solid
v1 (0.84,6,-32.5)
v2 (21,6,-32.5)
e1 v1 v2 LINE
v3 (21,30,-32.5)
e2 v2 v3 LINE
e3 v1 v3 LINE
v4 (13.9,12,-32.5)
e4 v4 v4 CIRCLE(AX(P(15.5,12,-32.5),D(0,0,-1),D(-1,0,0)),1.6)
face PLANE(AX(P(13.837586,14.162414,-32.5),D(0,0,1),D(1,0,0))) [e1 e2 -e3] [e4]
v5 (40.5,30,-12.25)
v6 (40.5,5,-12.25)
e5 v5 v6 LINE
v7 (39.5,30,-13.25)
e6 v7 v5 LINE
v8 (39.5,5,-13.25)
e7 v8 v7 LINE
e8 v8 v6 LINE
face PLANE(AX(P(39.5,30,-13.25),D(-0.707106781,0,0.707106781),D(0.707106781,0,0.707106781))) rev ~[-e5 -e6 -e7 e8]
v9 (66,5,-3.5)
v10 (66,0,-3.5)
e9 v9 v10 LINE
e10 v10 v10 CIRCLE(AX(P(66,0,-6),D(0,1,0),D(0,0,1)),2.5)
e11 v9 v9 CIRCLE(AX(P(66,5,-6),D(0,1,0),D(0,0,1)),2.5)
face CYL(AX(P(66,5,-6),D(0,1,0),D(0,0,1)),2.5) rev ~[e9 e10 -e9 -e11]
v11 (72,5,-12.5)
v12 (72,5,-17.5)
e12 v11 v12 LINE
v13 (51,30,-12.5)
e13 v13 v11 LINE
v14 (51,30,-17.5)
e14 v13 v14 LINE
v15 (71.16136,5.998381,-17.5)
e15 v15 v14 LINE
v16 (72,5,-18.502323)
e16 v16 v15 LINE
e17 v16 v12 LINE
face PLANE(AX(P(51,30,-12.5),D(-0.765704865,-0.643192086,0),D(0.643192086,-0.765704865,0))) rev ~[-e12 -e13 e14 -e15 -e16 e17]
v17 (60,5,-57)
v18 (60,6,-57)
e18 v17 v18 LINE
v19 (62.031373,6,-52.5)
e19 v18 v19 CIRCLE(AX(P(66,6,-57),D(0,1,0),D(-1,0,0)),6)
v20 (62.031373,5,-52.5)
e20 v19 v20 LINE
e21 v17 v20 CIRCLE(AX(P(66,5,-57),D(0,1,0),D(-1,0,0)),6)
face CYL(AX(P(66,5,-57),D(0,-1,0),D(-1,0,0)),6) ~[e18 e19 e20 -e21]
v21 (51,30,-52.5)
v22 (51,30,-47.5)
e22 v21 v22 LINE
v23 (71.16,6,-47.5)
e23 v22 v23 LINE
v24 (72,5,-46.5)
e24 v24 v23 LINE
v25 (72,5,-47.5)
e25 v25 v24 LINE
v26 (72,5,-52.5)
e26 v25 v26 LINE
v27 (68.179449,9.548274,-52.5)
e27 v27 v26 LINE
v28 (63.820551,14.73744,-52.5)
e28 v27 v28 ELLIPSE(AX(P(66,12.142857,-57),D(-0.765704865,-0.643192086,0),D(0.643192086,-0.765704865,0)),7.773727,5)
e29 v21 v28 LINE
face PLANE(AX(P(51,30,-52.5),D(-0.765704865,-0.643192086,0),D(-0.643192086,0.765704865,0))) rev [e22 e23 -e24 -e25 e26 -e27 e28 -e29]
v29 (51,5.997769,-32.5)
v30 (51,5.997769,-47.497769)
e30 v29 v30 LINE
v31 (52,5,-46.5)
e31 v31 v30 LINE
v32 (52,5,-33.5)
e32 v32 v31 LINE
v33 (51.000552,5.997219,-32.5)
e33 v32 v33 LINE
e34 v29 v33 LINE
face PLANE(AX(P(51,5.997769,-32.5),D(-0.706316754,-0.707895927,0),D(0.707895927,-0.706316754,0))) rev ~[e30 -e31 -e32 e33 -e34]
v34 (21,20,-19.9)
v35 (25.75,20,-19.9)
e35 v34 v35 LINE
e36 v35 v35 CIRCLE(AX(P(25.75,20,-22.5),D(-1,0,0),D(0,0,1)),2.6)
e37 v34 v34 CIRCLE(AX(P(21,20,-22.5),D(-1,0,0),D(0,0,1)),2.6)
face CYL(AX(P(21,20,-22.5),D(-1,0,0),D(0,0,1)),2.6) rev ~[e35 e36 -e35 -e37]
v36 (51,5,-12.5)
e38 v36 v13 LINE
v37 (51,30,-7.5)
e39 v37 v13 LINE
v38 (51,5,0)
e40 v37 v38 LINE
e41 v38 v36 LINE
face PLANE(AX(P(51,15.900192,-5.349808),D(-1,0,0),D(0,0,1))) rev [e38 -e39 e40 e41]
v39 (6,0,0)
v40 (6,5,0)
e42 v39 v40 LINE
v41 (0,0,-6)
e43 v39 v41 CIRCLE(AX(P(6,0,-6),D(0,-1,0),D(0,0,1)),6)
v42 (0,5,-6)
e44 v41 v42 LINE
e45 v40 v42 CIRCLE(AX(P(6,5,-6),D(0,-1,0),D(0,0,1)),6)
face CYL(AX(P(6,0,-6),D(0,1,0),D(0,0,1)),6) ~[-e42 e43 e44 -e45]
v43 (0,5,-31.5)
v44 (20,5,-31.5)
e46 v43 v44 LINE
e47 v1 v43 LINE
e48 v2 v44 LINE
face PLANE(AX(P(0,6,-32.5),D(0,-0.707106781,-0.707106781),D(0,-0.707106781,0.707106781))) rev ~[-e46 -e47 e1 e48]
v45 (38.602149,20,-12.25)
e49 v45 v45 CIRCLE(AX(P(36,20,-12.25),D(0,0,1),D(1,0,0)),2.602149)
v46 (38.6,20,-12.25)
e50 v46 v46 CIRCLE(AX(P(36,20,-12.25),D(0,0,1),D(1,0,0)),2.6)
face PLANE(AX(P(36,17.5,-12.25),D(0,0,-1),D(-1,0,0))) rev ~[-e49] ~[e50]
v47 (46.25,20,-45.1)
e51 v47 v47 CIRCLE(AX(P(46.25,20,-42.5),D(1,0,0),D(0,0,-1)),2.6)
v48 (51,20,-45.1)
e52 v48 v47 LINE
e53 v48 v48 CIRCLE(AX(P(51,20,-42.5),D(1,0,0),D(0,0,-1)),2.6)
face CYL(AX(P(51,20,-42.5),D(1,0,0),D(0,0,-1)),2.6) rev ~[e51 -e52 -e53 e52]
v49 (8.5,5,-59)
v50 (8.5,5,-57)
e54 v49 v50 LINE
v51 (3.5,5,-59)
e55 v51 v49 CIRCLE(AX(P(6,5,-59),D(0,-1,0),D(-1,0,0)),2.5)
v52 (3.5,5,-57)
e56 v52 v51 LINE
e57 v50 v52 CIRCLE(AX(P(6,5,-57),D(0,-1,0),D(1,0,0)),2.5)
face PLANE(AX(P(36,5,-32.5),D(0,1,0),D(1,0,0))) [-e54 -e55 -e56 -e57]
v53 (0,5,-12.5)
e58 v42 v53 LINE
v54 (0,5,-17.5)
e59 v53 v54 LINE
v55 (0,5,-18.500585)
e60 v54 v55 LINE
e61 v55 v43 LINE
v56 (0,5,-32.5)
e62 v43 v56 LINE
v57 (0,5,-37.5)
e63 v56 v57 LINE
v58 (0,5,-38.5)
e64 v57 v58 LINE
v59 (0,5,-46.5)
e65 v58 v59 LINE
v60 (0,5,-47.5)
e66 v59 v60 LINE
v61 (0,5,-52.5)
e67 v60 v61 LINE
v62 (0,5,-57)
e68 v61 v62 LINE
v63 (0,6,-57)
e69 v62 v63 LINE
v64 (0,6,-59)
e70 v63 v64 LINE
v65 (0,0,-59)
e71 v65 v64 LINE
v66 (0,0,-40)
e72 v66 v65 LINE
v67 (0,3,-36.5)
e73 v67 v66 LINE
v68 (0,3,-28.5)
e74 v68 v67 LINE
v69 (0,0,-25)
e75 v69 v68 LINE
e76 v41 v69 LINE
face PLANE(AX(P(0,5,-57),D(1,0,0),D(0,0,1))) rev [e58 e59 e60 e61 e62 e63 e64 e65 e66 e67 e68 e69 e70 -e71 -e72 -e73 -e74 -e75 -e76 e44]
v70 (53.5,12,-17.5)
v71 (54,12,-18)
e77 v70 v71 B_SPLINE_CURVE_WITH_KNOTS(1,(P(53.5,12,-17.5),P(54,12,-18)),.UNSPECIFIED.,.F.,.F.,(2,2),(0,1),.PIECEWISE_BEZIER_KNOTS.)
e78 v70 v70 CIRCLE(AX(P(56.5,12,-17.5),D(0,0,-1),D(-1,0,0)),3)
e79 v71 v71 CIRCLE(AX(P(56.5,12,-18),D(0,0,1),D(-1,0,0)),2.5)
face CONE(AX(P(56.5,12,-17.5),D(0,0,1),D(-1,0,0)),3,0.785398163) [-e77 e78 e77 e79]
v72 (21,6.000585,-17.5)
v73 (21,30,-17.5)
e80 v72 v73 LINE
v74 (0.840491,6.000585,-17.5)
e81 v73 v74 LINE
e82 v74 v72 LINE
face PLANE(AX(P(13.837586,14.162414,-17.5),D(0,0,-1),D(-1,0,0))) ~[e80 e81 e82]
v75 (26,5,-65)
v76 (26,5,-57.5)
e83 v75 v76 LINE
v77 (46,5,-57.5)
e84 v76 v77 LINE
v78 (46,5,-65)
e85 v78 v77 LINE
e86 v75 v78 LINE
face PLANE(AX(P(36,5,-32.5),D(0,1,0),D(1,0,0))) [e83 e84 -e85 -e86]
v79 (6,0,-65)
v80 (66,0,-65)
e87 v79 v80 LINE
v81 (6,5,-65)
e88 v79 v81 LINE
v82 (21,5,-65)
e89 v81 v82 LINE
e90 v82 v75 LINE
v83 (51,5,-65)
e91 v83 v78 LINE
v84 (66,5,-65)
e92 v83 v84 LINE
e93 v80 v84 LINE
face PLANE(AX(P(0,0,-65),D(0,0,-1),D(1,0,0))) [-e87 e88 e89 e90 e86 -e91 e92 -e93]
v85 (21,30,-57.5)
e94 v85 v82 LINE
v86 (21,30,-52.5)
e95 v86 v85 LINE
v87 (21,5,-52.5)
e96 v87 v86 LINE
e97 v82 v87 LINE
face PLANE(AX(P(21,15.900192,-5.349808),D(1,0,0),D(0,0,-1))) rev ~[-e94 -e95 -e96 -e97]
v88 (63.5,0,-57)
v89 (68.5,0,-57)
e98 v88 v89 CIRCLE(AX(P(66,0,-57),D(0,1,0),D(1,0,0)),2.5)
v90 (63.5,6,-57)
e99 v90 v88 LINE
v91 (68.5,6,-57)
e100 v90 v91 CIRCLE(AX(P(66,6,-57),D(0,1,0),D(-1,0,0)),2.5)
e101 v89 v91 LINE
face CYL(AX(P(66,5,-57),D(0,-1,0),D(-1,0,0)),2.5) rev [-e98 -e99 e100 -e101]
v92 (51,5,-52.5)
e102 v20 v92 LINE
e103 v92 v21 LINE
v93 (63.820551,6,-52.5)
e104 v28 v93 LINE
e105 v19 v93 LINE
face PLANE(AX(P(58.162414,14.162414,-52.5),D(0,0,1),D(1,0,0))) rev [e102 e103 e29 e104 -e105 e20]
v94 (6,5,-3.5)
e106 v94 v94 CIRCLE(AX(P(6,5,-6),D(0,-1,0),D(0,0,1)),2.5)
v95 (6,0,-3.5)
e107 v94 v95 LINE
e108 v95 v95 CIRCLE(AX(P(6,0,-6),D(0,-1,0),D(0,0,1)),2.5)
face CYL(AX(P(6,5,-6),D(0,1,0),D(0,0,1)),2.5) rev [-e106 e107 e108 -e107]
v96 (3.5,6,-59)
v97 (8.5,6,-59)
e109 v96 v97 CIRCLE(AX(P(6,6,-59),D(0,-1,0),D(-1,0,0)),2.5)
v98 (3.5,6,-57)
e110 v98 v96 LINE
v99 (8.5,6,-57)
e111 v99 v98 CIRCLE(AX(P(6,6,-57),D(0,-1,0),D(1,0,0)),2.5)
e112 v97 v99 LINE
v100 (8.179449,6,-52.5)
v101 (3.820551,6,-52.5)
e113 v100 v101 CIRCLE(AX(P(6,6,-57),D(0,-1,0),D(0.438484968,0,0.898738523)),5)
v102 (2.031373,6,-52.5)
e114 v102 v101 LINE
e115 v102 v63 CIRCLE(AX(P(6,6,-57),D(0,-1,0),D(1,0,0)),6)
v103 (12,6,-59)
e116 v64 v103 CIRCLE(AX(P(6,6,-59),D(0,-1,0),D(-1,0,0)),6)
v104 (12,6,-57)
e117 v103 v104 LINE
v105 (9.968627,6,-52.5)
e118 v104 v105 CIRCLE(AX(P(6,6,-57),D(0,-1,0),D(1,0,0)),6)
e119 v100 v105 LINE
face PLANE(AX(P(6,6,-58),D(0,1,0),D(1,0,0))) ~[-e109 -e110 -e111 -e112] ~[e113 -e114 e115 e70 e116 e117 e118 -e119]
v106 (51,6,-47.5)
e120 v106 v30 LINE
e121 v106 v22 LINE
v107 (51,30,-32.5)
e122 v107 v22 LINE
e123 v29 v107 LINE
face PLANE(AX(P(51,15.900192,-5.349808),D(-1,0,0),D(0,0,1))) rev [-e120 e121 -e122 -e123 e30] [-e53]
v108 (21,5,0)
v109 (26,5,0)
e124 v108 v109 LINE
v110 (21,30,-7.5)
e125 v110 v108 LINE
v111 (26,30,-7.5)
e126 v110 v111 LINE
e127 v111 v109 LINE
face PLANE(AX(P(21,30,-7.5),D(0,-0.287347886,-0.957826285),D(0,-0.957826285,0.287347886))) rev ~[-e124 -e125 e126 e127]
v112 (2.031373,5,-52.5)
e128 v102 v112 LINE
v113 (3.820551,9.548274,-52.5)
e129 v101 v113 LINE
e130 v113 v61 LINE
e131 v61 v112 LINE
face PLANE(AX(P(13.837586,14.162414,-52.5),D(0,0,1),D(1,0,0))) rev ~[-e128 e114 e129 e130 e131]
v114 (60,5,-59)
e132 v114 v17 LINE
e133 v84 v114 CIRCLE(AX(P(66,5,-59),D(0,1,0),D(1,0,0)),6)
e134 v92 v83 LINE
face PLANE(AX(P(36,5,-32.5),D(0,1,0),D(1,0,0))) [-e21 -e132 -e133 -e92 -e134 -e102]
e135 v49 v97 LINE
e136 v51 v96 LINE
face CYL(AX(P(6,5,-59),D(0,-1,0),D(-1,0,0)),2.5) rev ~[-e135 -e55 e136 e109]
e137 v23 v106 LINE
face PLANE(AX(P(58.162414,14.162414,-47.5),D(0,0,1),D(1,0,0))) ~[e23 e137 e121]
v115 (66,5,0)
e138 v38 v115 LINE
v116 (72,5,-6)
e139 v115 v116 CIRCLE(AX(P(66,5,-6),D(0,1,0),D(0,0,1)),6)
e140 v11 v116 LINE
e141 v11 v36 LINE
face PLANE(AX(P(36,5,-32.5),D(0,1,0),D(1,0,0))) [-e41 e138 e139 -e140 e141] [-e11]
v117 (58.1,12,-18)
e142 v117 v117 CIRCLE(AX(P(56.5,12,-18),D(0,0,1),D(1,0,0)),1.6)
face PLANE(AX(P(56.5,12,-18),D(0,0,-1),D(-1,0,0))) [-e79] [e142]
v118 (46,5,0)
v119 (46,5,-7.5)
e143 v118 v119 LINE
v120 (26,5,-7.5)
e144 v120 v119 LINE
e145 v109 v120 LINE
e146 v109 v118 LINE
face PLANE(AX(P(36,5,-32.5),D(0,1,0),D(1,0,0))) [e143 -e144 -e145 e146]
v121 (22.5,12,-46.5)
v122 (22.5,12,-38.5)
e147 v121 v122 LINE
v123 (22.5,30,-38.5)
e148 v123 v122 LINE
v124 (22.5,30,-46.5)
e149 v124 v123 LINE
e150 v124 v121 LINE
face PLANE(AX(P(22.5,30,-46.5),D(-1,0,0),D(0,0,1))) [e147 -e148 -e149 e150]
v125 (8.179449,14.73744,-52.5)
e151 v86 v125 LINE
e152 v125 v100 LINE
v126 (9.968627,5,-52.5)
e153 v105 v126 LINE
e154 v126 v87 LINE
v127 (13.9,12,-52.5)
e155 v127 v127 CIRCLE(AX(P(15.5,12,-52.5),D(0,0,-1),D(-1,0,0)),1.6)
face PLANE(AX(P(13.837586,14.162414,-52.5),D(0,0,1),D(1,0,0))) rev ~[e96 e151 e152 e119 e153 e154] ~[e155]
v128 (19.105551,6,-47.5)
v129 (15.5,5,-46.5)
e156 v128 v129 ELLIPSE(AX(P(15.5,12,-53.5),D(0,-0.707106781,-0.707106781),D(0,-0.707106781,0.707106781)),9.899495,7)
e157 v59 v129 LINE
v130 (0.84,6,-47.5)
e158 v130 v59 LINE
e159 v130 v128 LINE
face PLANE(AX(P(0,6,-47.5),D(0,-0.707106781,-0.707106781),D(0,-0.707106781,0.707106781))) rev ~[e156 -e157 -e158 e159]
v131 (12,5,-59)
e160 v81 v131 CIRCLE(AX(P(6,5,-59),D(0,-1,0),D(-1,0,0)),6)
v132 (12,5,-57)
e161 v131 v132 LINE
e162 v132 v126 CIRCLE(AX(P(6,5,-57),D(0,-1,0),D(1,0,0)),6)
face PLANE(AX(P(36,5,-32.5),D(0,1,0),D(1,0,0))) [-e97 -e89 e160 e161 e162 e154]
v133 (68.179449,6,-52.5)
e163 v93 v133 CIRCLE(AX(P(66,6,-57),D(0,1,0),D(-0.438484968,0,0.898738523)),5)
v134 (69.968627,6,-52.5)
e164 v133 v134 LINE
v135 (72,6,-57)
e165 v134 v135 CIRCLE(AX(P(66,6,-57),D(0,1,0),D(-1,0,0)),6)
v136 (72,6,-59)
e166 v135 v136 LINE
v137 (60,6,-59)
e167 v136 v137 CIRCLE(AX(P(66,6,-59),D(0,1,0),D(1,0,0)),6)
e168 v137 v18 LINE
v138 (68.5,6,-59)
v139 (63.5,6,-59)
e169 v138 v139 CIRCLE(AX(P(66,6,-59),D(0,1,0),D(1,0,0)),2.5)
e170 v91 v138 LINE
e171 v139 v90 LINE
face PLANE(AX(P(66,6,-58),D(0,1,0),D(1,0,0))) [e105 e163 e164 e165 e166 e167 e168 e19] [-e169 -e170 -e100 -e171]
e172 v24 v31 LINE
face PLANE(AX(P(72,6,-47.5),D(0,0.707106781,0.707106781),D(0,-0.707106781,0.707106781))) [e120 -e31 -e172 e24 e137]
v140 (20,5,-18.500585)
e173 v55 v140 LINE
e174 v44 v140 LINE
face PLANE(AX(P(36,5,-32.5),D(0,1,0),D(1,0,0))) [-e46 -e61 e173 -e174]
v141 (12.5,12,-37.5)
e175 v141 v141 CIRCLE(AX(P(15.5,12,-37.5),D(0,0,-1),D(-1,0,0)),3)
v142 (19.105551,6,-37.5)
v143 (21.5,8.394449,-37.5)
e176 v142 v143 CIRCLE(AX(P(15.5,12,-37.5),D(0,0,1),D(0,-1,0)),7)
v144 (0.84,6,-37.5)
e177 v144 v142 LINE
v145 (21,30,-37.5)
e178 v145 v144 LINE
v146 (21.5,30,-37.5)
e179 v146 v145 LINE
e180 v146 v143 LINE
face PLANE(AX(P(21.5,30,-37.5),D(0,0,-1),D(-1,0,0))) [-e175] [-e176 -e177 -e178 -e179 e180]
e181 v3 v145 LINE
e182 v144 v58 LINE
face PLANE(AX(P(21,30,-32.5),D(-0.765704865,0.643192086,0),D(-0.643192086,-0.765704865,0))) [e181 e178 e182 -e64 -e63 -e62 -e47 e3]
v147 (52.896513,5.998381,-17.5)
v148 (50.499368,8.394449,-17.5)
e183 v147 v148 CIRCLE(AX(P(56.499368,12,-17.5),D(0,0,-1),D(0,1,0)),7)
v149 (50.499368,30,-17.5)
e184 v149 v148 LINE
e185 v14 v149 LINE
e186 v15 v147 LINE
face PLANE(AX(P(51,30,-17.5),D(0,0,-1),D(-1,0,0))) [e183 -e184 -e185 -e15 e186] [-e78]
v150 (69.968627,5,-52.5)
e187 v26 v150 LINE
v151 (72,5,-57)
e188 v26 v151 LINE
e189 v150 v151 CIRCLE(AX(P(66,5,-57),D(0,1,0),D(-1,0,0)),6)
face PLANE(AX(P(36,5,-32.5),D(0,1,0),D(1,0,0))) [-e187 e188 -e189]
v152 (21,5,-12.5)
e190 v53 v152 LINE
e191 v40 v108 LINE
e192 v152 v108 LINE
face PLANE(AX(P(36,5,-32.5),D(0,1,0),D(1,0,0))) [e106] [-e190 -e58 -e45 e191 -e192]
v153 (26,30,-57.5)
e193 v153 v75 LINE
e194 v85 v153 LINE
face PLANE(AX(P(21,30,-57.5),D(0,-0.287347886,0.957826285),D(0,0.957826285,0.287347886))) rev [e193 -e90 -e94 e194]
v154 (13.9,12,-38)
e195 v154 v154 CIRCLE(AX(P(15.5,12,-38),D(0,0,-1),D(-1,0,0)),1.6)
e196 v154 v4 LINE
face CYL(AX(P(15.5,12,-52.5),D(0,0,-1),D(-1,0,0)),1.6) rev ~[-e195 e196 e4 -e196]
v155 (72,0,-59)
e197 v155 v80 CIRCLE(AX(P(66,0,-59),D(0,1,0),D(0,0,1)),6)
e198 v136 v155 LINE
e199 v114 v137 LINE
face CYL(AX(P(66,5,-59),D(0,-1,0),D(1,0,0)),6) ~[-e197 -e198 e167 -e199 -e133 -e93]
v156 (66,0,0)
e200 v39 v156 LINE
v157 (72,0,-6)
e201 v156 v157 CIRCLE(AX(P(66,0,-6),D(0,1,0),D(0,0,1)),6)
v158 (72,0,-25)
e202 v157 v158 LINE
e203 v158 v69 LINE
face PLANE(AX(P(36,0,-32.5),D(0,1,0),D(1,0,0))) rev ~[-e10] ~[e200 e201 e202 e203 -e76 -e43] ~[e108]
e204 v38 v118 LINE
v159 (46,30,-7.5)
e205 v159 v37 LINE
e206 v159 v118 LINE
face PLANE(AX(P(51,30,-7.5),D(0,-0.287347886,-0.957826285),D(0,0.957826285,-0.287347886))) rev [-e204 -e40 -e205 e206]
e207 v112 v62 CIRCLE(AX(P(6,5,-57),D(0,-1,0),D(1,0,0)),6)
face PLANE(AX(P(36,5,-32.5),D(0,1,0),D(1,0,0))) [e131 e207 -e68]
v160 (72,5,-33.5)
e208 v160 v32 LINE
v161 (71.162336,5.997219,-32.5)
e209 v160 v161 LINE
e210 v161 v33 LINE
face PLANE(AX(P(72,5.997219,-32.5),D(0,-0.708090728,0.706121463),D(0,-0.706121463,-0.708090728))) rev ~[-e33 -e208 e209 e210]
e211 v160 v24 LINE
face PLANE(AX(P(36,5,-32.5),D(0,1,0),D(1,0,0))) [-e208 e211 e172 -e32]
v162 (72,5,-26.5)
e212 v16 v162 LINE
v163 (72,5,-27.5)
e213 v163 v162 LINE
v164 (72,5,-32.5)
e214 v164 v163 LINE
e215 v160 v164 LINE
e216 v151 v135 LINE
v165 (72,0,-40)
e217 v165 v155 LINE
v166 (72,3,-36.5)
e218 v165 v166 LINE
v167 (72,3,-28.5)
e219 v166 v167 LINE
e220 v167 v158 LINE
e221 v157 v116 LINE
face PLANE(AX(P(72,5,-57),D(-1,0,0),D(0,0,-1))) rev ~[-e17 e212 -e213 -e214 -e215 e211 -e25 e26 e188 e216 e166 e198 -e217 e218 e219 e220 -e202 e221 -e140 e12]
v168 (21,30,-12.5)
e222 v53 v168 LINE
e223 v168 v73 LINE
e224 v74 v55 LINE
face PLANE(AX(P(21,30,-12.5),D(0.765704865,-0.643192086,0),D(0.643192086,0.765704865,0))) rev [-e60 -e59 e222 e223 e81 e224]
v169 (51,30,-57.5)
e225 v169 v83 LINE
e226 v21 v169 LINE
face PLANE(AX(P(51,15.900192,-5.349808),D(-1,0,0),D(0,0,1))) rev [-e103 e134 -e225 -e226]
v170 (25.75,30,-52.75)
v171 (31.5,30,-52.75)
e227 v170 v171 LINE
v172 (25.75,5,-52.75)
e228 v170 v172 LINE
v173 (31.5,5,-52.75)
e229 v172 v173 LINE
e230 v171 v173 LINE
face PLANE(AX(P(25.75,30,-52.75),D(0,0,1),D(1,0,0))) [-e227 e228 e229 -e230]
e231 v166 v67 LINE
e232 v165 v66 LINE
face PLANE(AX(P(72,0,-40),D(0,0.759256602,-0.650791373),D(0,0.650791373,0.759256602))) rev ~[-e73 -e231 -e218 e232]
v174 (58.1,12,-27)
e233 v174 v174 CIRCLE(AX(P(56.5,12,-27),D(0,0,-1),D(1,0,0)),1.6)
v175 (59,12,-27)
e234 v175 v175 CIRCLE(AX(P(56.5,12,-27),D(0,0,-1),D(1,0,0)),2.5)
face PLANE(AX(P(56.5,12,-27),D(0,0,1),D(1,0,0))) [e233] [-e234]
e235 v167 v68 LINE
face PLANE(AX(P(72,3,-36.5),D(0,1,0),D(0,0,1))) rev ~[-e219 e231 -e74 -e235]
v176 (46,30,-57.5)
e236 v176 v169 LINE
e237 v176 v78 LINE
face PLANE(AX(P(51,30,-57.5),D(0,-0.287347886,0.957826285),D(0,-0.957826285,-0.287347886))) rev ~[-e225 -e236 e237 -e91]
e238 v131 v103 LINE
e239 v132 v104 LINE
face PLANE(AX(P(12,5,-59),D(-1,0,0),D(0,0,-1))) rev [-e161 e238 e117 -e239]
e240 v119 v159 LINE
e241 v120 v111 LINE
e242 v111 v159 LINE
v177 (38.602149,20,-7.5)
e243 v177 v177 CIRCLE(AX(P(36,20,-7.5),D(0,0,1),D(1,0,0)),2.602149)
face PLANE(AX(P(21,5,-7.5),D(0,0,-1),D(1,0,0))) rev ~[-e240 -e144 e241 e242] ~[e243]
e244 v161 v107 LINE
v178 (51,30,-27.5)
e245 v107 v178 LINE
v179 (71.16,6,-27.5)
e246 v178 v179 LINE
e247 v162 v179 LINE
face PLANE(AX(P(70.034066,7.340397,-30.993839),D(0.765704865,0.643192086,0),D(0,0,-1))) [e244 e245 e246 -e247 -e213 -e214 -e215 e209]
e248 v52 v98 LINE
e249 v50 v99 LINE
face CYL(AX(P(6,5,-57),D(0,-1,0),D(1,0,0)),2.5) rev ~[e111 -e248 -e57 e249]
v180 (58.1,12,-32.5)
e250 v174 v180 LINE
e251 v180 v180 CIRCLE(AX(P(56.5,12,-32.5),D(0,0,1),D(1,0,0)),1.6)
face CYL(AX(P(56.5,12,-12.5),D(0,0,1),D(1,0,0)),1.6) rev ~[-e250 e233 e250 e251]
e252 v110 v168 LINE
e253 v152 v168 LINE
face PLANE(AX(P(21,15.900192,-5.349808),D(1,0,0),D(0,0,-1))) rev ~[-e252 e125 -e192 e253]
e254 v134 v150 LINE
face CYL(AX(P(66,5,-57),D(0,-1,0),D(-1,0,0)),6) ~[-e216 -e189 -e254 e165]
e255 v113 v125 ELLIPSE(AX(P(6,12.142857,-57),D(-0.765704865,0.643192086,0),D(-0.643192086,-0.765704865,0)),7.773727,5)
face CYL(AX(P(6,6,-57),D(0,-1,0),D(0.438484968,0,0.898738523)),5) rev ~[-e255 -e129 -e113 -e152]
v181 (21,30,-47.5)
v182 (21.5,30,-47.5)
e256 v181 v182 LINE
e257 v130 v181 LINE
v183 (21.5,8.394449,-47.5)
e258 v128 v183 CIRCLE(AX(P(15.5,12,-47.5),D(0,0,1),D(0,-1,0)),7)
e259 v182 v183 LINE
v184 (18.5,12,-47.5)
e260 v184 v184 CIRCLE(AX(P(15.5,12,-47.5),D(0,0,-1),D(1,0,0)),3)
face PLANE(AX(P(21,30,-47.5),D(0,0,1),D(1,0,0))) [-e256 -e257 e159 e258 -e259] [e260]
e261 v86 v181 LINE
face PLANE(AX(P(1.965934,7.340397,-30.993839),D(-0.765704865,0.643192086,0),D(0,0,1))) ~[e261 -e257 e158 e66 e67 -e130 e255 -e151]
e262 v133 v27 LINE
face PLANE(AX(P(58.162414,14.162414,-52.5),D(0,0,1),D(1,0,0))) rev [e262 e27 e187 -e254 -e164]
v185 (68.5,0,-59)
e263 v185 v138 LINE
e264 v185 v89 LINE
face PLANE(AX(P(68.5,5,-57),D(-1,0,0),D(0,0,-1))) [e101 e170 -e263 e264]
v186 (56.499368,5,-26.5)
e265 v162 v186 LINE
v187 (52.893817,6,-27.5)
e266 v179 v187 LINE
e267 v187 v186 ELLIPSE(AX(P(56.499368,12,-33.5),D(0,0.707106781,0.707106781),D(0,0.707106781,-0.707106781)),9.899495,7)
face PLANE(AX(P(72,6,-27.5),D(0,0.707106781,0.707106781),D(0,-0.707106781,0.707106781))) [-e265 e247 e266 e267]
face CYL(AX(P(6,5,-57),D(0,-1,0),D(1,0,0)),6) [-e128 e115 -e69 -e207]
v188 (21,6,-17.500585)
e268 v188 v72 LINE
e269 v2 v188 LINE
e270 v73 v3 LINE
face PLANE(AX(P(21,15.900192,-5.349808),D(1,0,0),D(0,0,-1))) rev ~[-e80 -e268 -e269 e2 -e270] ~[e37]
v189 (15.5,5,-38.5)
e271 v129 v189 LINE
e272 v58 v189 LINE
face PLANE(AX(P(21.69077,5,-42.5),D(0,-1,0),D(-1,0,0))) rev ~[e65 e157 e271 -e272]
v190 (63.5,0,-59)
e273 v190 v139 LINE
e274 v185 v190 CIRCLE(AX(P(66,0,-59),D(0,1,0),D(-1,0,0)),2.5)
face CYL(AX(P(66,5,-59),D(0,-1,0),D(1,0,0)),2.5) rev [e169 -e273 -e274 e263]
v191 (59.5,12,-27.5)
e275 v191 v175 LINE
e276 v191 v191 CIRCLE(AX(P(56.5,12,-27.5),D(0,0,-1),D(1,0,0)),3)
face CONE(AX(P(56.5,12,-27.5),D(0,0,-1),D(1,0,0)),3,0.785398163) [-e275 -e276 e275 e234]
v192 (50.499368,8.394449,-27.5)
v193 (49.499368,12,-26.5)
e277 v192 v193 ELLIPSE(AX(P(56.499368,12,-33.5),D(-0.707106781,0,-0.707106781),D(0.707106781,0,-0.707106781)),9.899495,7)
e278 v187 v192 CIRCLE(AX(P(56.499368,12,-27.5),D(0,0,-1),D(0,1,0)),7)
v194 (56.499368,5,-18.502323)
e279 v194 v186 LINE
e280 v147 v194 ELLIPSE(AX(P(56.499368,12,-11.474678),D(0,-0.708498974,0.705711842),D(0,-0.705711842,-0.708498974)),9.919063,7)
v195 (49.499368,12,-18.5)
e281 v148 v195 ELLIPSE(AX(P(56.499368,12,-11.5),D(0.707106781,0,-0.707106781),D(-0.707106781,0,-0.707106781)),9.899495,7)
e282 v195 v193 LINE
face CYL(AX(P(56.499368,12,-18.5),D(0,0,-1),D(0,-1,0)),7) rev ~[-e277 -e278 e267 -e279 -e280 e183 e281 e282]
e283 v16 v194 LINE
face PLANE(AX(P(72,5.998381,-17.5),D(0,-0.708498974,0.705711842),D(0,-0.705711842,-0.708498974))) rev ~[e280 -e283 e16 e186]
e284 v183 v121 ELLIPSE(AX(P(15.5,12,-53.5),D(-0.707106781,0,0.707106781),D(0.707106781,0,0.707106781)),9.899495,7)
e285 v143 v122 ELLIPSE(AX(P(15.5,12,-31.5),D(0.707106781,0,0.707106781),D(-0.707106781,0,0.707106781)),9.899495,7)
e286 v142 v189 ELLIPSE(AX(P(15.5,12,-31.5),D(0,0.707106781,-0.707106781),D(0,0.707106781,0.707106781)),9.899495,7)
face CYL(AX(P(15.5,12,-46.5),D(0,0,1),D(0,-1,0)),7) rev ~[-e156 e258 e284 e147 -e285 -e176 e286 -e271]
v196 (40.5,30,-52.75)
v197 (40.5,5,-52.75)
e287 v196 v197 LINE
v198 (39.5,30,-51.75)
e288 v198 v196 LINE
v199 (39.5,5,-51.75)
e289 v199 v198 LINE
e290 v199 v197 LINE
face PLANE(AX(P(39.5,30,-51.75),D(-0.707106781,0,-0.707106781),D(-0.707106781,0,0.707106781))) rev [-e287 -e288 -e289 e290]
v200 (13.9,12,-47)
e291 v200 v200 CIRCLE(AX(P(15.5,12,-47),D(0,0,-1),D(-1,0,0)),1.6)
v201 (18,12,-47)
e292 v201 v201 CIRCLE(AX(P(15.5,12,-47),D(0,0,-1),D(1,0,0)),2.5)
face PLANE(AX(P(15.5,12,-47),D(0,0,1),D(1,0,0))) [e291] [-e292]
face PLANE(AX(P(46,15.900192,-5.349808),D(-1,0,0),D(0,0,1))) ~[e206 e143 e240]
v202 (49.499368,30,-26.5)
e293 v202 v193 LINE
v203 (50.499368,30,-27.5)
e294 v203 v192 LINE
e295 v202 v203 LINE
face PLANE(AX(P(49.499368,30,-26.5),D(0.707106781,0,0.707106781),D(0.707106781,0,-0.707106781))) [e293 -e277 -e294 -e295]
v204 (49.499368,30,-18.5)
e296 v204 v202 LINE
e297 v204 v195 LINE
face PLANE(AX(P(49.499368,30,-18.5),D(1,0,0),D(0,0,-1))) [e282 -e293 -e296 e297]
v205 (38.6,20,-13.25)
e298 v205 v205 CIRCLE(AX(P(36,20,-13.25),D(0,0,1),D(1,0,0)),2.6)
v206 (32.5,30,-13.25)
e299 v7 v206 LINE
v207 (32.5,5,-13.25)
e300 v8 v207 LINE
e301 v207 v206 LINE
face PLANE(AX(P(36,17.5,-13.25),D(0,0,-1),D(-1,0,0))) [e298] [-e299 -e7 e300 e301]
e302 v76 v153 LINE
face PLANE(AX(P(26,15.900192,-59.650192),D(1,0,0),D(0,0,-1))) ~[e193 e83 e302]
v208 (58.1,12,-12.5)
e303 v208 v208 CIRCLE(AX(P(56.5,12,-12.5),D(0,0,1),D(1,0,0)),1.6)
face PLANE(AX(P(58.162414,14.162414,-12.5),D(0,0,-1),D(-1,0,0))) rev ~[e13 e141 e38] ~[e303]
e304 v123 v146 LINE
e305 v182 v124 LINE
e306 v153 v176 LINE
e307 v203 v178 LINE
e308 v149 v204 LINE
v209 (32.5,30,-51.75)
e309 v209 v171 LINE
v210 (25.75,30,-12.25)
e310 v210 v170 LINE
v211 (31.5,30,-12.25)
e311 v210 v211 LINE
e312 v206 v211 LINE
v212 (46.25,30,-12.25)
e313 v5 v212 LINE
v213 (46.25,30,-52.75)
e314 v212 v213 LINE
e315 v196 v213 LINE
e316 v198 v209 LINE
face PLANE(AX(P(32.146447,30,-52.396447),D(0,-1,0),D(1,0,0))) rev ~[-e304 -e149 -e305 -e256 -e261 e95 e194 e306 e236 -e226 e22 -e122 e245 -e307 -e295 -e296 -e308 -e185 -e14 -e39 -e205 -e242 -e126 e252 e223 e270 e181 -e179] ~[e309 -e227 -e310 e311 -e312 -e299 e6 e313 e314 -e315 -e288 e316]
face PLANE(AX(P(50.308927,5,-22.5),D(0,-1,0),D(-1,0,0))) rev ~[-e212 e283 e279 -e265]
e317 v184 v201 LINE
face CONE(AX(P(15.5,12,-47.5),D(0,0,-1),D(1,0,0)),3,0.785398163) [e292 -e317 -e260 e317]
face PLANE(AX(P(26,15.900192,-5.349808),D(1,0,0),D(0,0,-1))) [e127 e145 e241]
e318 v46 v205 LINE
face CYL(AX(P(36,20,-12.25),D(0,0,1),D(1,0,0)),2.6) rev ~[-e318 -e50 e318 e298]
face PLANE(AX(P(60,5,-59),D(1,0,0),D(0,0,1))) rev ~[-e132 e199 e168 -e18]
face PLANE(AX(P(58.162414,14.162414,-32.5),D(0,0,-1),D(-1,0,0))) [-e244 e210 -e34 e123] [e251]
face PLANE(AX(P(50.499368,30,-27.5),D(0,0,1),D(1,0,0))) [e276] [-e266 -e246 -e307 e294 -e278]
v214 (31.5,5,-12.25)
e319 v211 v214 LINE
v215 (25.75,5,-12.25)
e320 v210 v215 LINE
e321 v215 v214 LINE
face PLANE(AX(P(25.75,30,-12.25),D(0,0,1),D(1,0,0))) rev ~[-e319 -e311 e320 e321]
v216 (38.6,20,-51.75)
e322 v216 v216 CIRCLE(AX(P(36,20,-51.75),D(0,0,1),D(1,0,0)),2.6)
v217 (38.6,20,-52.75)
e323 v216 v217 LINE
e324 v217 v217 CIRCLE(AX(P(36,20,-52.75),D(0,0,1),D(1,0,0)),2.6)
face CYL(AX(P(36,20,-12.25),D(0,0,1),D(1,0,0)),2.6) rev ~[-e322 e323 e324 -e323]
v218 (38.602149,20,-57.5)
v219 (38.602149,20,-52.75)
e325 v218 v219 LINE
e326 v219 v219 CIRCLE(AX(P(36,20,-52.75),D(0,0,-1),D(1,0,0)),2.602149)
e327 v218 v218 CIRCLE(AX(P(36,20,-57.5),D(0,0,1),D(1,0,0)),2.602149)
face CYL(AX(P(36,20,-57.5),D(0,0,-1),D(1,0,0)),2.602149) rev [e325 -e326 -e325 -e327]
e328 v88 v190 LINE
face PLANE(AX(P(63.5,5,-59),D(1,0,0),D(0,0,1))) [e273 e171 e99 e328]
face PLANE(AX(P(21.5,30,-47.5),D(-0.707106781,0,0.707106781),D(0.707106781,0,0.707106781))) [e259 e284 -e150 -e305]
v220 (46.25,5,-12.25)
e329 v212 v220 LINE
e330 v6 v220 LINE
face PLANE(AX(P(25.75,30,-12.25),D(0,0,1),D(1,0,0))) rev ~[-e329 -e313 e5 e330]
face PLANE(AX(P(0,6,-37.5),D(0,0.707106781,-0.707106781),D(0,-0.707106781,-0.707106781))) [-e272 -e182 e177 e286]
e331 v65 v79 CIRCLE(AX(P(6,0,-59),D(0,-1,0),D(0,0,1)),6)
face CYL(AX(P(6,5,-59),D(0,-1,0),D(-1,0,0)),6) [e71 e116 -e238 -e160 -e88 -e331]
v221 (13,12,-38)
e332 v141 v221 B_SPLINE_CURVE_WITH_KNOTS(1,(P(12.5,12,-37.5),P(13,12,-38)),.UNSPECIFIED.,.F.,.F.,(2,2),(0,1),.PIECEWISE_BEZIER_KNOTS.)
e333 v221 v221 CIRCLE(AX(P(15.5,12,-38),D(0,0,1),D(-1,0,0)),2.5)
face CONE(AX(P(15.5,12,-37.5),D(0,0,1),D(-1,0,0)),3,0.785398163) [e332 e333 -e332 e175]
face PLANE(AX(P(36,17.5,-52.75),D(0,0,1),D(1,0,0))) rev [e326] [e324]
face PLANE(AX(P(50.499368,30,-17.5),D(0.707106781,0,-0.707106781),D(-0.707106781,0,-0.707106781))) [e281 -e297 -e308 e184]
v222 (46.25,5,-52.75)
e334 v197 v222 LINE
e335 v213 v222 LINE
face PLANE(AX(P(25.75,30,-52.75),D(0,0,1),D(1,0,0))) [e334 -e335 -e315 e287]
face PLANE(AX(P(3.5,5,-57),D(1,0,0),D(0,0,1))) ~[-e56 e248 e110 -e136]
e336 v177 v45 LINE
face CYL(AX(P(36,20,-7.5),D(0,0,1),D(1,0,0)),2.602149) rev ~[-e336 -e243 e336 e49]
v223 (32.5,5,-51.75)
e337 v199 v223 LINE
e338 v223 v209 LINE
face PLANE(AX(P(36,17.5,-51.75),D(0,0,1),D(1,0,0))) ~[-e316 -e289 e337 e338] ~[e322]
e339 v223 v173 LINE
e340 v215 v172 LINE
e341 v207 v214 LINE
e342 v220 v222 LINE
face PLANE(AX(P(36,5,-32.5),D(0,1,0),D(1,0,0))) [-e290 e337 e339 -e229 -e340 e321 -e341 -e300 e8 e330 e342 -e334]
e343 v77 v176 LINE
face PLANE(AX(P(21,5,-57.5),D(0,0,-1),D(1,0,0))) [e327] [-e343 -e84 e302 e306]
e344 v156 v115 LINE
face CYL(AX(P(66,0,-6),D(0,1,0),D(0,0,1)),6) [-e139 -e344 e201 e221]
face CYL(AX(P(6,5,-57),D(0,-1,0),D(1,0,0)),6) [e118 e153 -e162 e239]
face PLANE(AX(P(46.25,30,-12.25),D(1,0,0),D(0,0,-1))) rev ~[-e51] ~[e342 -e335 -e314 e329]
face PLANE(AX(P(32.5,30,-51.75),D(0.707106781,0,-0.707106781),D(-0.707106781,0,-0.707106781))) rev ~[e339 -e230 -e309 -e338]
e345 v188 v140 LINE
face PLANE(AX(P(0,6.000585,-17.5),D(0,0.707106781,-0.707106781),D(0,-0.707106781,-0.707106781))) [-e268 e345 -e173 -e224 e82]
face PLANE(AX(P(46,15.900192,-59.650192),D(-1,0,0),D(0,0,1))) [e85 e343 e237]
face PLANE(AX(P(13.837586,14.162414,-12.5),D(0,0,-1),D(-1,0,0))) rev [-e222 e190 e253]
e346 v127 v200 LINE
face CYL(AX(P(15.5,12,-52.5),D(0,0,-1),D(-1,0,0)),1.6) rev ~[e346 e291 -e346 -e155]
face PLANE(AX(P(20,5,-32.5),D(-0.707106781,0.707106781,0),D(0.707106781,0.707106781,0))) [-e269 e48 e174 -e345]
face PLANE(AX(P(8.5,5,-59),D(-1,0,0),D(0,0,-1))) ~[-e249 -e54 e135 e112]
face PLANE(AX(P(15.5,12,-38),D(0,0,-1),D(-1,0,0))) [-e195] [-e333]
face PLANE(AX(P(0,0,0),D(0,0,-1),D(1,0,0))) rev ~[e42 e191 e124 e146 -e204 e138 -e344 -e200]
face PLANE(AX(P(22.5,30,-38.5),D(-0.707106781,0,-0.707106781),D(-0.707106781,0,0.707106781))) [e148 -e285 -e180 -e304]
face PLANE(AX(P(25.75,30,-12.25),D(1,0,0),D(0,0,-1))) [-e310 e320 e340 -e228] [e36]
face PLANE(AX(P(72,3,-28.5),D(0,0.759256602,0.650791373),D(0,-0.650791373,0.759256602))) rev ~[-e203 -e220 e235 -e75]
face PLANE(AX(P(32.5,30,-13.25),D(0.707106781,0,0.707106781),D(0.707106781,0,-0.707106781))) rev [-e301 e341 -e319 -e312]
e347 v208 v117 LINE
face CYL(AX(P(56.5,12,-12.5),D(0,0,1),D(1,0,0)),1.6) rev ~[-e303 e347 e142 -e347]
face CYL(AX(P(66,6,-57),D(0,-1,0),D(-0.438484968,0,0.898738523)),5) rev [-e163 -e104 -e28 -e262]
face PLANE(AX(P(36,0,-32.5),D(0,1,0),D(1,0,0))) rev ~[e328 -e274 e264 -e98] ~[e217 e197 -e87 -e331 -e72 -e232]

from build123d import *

# Parameters (mm, degrees)
SKETCH1_W               = 72
SKETCH1_H               = 65
BOSS_EXTRUDE1_DEPTH     = 5
SKETCH2_W               = 30
SKETCH2_H               = 50
BOSS_EXTRUDE2_DEPTH     = 25
SKETCH4_W               = 20.5
SKETCH4_H               = 40.5
CUT_EXTRUDE1_DEPTH      = 25
BOSS_EXTRUDE3_DEPTH     = 5
MIRROR2_COPY_1_DEPTH    = 5
BOSS_EXTRUDE4_START     = -5
BOSS_EXTRUDE4_DEPTH     = 5
BOSS_EXTRUDE5_DEPTH     = 5
MIRROR4_START           = -5
MIRROR4_COPY_1_DEPTH    = 5
BOSS_EXTRUDE6_DEPTH     = 5
FILLET1_R               = 6
CUT_EXTRUDE3_DEPTH      = 75
SKETCH11_R              = 2.5
CUT_EXTRUDE4_DEPTH      = 5
SKETCH12_R              = 1.6
CUT_EXTRUDE5_DEPTH      = 5
SKETCH13_R              = 2.602149029
CUT_EXTRUDE6_DEPTH      = 7
SKETCH14_W              = 7
SKETCH14_H              = 25
BOSS_EXTRUDE7_DEPTH     = 1
BOSS_EXTRUDE8_DEPTH     = 25
MIRROR8_COPY_1_DEPTH    = 25
SKETCH16_R              = 2.6
CUT_EXTRUDE7_DEPTH      = 65
CUT_EXTRUDE8_DEPTH      = 102.533245787
CUT_EXTRUDE8_DEPTH_BACK = 25
FILLET5_R               = 7
CUT_EXTRUDE9_DEPTH      = 25
FILLET6_R               = 7
BOSS_EXTRUDE10_DEPTH    = 25
BOSS_EXTRUDE11_DEPTH    = 25
BOSS_EXTRUDE12_DEPTH    = 15
BOSS_EXTRUDE13_DEPTH    = 25
BOSS_EXTRUDE14_DEPTH    = 25
SKETCH28_W              = 39.163365543
SKETCH28_H              = 8.307401159
CUT_EXTRUDE10_DEPTH     = 5
BOSS_EXTRUDE15_DEPTH    = 25
BOSS_EXTRUDE16_DEPTH    = 15
BOSS_EXTRUDE17_DEPTH    = 25
SKETCH32_R              = 3
BOSS_EXTRUDE18_DEPTH    = 0.5
BOSS_EXTRUDE18_TAPER    = 45
SKETCH33_R              = 1.6
CUT_EXTRUDE11_DEPTH     = 20.5
SKETCH34_R              = 3
BOSS_EXTRUDE19_DEPTH    = 0.5
BOSS_EXTRUDE19_TAPER    = 45
SKETCH35_R              = 1.6
CUT_EXTRUDE12_DEPTH     = 10.5
SKETCH37_R              = 3
BOSS_EXTRUDE20_DEPTH    = 0.5
BOSS_EXTRUDE20_TAPER    = 45
SKETCH38_R              = 3
BOSS_EXTRUDE21_DEPTH    = 0.5
BOSS_EXTRUDE21_TAPER    = 45
SKETCH36_R              = 1.6
CUT_EXTRUDE13_DEPTH     = 20.5
SKETCH40_R              = 2.6
CUT_EXTRUDE14_DEPTH     = 10
SKETCH41_R              = 2.6
CUT_EXTRUDE15_DEPTH     = 10
BOSS_EXTRUDE22_DEPTH    = 1
CUT_EXTRUDE17_DEPTH     = 11
CUT_EXTRUDE18_DEPTH     = 10


with BuildPart() as part:
    # Sketch1 → Boss-Extrude1 (new body)
    with BuildSketch(Plane(origin=(0, 0, 0), x_dir=(1, 0, 0), z_dir=(0, 1, 0))):
        with Locations((36, 32.5)):
            Rectangle(SKETCH1_W, SKETCH1_H)
    extrude(amount=BOSS_EXTRUDE1_DEPTH)

    # Sketch2 → Boss-Extrude2 (add)
    with BuildSketch(Plane(origin=(0, 5, 0), x_dir=(1, 0, 0), z_dir=(0, 1, 0))):
        with Locations((36, 32.5)):
            Rectangle(SKETCH2_W, SKETCH2_H)
    extrude(amount=BOSS_EXTRUDE2_DEPTH)

    # Sketch4 → Cut-Extrude1 (cut)
    with BuildSketch(Plane(origin=(0, 30, 0), x_dir=(1, 0, 0), z_dir=(0, 1, 0))):
        with Locations((36, 32.5)):
            Rectangle(SKETCH4_W, SKETCH4_H)
    extrude(amount=-CUT_EXTRUDE1_DEPTH, mode=Mode.SUBTRACT)

    # Sketch5 → Boss-Extrude3 (add)
    with BuildSketch(Plane(origin=(51, 0, 0), x_dir=(0, 0, -1), z_dir=(1, 0, 0))):
        Polygon((57.5, 30), (65, 5), (57.5, 5), align=None)
    boss_extrude3 = extrude(amount=-BOSS_EXTRUDE3_DEPTH)

    # Mirror1: Boss-Extrude3 across plane
    add(boss_extrude3.mirror(Plane(origin=(36, 0, 0), x_dir=(0, 0, 1), z_dir=(1, 0, 0))))

    # Mirror2: Boss-Extrude3 across plane
    add(boss_extrude3.mirror(Plane.XY.offset(-32.5)))

    # Mirror2 copy 1 sketch → Mirror2 copy 1 (add)
    with BuildSketch(Plane(origin=(21, 0, -65), x_dir=(0, 0, 1), z_dir=(-1, 0, 0))):
        Polygon((57.5, 30), (65, 5), (57.5, 5), align=None)
    extrude(amount=-MIRROR2_COPY_1_DEPTH)

    # Sketch6 → Boss-Extrude4 (add)
    with BuildSketch(Plane.XY.offset(-7.5).offset(BOSS_EXTRUDE4_START)):
        Polygon((51, 30), (72, 5), (51, 5), align=None)
    boss_extrude4 = extrude(amount=-BOSS_EXTRUDE4_DEPTH)

    # Mirror3: Boss-Extrude4 across plane
    add(boss_extrude4.mirror(Plane.XY.offset(-32.5)))

    # Sketch7 → Boss-Extrude5 (add)
    with BuildSketch(Plane.XY.offset(-32.5)):
        Polygon((51, 30), (72, 5), (51, 5), align=None)
    extrude(amount=BOSS_EXTRUDE5_DEPTH)

    # Mirror4: Boss-Extrude4 across plane
    add(boss_extrude4.mirror(Plane(origin=(36, 0, 0), x_dir=(0, 0, 1), z_dir=(1, 0, 0))))

    # Mirror4 copy 1 sketch → Mirror4 copy 1 (add)
    with BuildSketch(Plane(origin=(72, 0, -57.5), x_dir=(-1, 0, 0), z_dir=(0, 0, -1)).offset(MIRROR4_START)):
        Polygon((51, 30), (72, 5), (51, 5), align=None)
    extrude(amount=-MIRROR4_COPY_1_DEPTH)

    # Sketch8 → Boss-Extrude6 (add)
    with BuildSketch(Plane.XY.offset(-32.5)):
        Polygon((21, 30), (0, 5), (21, 5), align=None)
    extrude(amount=-BOSS_EXTRUDE6_DEPTH)

    # Fillet1
    fillet1_edges = [part.edges().sort_by_distance(p)[0] for p in [
        (0, 2.5, 0),
        (0, 2.5, -65),
        (72, 2.5, -65),
        (72, 2.5, 0),
    ]]
    fillet(fillet1_edges, radius=FILLET1_R)

    # Sketch10 → Cut-Extrude3 (cut)
    with BuildSketch(Plane(origin=(72, 0, 0), x_dir=(0, 0, -1), z_dir=(1, 0, 0))):
        Polygon((40, 0), (36.5, 3), (32.5, 3), (28.5, 3), (25, 0), align=None)
    extrude(amount=-CUT_EXTRUDE3_DEPTH, mode=Mode.SUBTRACT)

    # Sketch11 → Cut-Extrude4 (cut)
    with BuildSketch(Plane(origin=(0, 5, 0), x_dir=(1, 0, 0), z_dir=(0, 1, 0))):
        with Locations(Location((66, 6, 0), (0, 0, 270))):
            Circle(SKETCH11_R)
    cut_extrude4 = extrude(amount=-CUT_EXTRUDE4_DEPTH, mode=Mode.SUBTRACT)

    # Mirror6: Cut-Extrude4 across plane
    add(cut_extrude4.mirror(Plane(origin=(36, 0, 0), x_dir=(0, 0, 1), z_dir=(1, 0, 0))), mode=Mode.SUBTRACT)

    # Sketch12 → Cut-Extrude5 (cut)
    with BuildSketch(Plane.XY.offset(-12.5)):
        with Locations((56.5, 12)):
            Circle(SKETCH12_R)
    extrude(amount=-CUT_EXTRUDE5_DEPTH, mode=Mode.SUBTRACT)

    # Sketch13 → Cut-Extrude6 (cut)
    with BuildSketch(Plane.XY.offset(-7.5)):
        with Locations((36, 20)):
            Circle(SKETCH13_R)
    cut_extrude6 = extrude(amount=-CUT_EXTRUDE6_DEPTH, mode=Mode.SUBTRACT)

    # Sketch14 → Boss-Extrude7 (add)
    with BuildSketch(Plane(origin=(0, 0, -12.25), x_dir=(-1, 0, 0), z_dir=(0, 0, -1))):
        with Locations((-36, 17.5)):
            Rectangle(SKETCH14_W, SKETCH14_H)
    boss_extrude7 = extrude(amount=BOSS_EXTRUDE7_DEPTH)

    # Sketch15 → Boss-Extrude8 (add)
    with BuildSketch(Plane(origin=(0, 30, 0), x_dir=(1, 0, 0), z_dir=(0, 1, 0))):
        Polygon((39.5, 13.25), (40.5, 12.25), (39.5, 12.25), align=None)
    boss_extrude8 = extrude(amount=-BOSS_EXTRUDE8_DEPTH)

    # Mirror7: Boss-Extrude8 across plane
    add(boss_extrude8.mirror(Plane(origin=(36, 0, 0), x_dir=(0, 0, 1), z_dir=(1, 0, 0))))

    # Mirror8: Cut-Extrude6, Boss-Extrude7, Boss-Extrude8 across plane
    add(cut_extrude6.mirror(Plane.XY.offset(-32.5)), mode=Mode.SUBTRACT)
    add(boss_extrude7.mirror(Plane.XY.offset(-32.5)))
    add(boss_extrude8.mirror(Plane.XY.offset(-32.5)))

    # Mirror8 copy 1 sketch → Mirror8 copy 1 (add)
    with BuildSketch(Plane(origin=(72, 30, -65), x_dir=(-1, 0, 0), z_dir=(0, 1, 0))):
        Polygon((39.5, 13.25), (40.5, 12.25), (39.5, 12.25), align=None)
    extrude(amount=-MIRROR8_COPY_1_DEPTH)

    # Sketch16 → Cut-Extrude7 (cut)
    with BuildSketch(Plane.XY.offset(-12.25)):
        with Locations((36, 20)):
            Circle(SKETCH16_R)
    extrude(amount=-CUT_EXTRUDE7_DEPTH, mode=Mode.SUBTRACT)

    # Sketch21 → Cut-Extrude8 (cut, two sides)
    with BuildSketch(Plane(origin=(0, 30, 0), x_dir=(1, 0, 0), z_dir=(0, 1, 0))) as cut_extrude8_sk:
        Polygon((21.5, 47.5), (22.5, 46.5), (22.5, 38.5), (21.5, 37.5), (21, 37.5), (21, 47.5), align=None)
    extrude(amount=CUT_EXTRUDE8_DEPTH, mode=Mode.SUBTRACT)
    extrude(cut_extrude8_sk.sketch, amount=-CUT_EXTRUDE8_DEPTH_BACK, mode=Mode.SUBTRACT)

    # Fillet5
    fillet5_edges = [part.edges().sort_by_distance(p)[0] for p in [
        (22.5, 5, -42.5),
    ]]
    fillet(fillet5_edges, radius=FILLET5_R)

    # Sketch22 → Cut-Extrude9 (cut)
    with BuildSketch(Plane(origin=(0, 30, 0), x_dir=(1, 0, 0), z_dir=(0, 1, 0))):
        Polygon((51, 17.5), (50.49936831, 17.5), (49.49936831, 18.5), (49.49936831, 26.5), (50.49936831, 27.5), (51, 27.5), align=None)
    extrude(amount=-CUT_EXTRUDE9_DEPTH, mode=Mode.SUBTRACT)

    # Fillet6
    fillet6_edges = [part.edges().sort_by_distance(p)[0] for p in [
        (49.49936831, 5, -22.5),
    ]]
    fillet(fillet6_edges, radius=FILLET6_R)

    # Sketch23 → Boss-Extrude10 (add)
    with BuildSketch(Plane(origin=(72, 0, 0), x_dir=(0, 0, -1), z_dir=(1, 0, 0))):
        Polygon((17.5, 5), (17.5, 5.998380503), (18.502323497, 5), align=None)
    extrude(amount=-BOSS_EXTRUDE10_DEPTH)

    # Sketch24 → Boss-Extrude11 (add)
    with BuildSketch(Plane(origin=(72, 0, 0), x_dir=(0, 0, -1), z_dir=(1, 0, 0))):
        Polygon((27.5, 5), (27.5, 6), (26.5, 5), align=None)
    extrude(amount=-BOSS_EXTRUDE11_DEPTH)

    # Sketch25 → Boss-Extrude12 (add)
    with BuildSketch(Plane(origin=(0, 0, -32.5), x_dir=(-1, 0, 0), z_dir=(0, 0, -1))):
        Polygon((-51, 5), (-51, 5.997769202), (-52, 5), align=None)
    extrude(amount=BOSS_EXTRUDE12_DEPTH)

    # Sketch26 → Boss-Extrude13 (add)
    with BuildSketch(Plane(origin=(72, 0, 0), x_dir=(0, 0, -1), z_dir=(1, 0, 0))):
        Polygon((32.5, 5), (32.5, 5.997218908), (33.5, 5), align=None)
    extrude(amount=-BOSS_EXTRUDE13_DEPTH)

    # Sketch27 → Boss-Extrude14 (add)
    with BuildSketch(Plane(origin=(72, 0, 0), x_dir=(0, 0, -1), z_dir=(1, 0, 0))):
        Polygon((47.5, 5), (47.5, 6), (46.5, 5), align=None)
    extrude(amount=-BOSS_EXTRUDE14_DEPTH)

    # Sketch28 → Cut-Extrude10 (cut)
    with BuildSketch(Plane(origin=(44.676360225, 37.528142589, 0), x_dir=(0, 0, -1), z_dir=(0.7657048647896111, 0.6431920864232733, 0))):
        with Locations((30.993839272, -39.424779611)):
            Rectangle(SKETCH28_W, SKETCH28_H)
    cut_extrude10 = extrude(amount=CUT_EXTRUDE10_DEPTH, mode=Mode.SUBTRACT)

    # Sketch29 → Boss-Extrude15 (add)
    with BuildSketch(Plane.ZY):
        Polygon((-47.5, 5), (-47.5, 6), (-46.5, 5), align=None)
        Polygon((-37.5, 5), (-37.5, 6), (-38.5, 5), align=None)
    extrude(amount=-BOSS_EXTRUDE15_DEPTH)

    # Sketch30 → Boss-Extrude16 (add)
    with BuildSketch(Plane.XY.offset(-32.5)):
        Polygon((21, 5), (20, 5), (21, 6), align=None)
    extrude(amount=BOSS_EXTRUDE16_DEPTH)

    # Sketch31 → Boss-Extrude17 (add)
    with BuildSketch(Plane.ZY):
        Polygon((-32.5, 5), (-32.5, 6), (-31.5, 5), align=None)
        Polygon((-17.5, 5), (-17.5, 6.000584877), (-18.500584877, 5), align=None)
    extrude(amount=-BOSS_EXTRUDE17_DEPTH)

    # Mirror10: Cut-Extrude10 across plane
    add(cut_extrude10.mirror(Plane(origin=(36, 0, 0), x_dir=(0, 0, 1), z_dir=(1, 0, 0))), mode=Mode.SUBTRACT)

    # Sketch32 → Boss-Extrude18 (add)
    with BuildSketch(Plane(origin=(0, 0, -17.5), x_dir=(-1, 0, 0), z_dir=(0, 0, -1))):
        with Locations((-56.5, 12)):
            Circle(SKETCH32_R)
    extrude(amount=BOSS_EXTRUDE18_DEPTH, taper=BOSS_EXTRUDE18_TAPER)

    # Sketch33 → Cut-Extrude11 (cut)
    with BuildSketch(Plane.XY.offset(-12.5)):
        with Locations((56.5, 12)):
            Circle(SKETCH33_R)
    extrude(amount=-CUT_EXTRUDE11_DEPTH, mode=Mode.SUBTRACT)

    # Sketch34 → Boss-Extrude19 (add)
    with BuildSketch(Plane.XY.offset(-27.5)):
        with Locations((56.5, 12)):
            Circle(SKETCH34_R)
    extrude(amount=BOSS_EXTRUDE19_DEPTH, taper=BOSS_EXTRUDE19_TAPER)

    # Sketch35 → Cut-Extrude12 (cut)
    with BuildSketch(Plane(origin=(0, 0, -32.5), x_dir=(-1, 0, 0), z_dir=(0, 0, -1))):
        with Locations(Location((-56.5, 12, 0), (0, 0, 180))):
            Circle(SKETCH35_R)
    extrude(amount=-CUT_EXTRUDE12_DEPTH, mode=Mode.SUBTRACT)

    # Sketch37 → Boss-Extrude20 (add)
    with BuildSketch(Plane.XY.offset(-47.5)):
        with Locations((15.5, 12)):
            Circle(SKETCH37_R)
    extrude(amount=BOSS_EXTRUDE20_DEPTH, taper=BOSS_EXTRUDE20_TAPER)

    # Sketch38 → Boss-Extrude21 (add)
    with BuildSketch(Plane(origin=(0, 0, -37.5), x_dir=(-1, 0, 0), z_dir=(0, 0, -1))):
        with Locations((-15.5, 12)):
            Circle(SKETCH38_R)
    extrude(amount=BOSS_EXTRUDE21_DEPTH, taper=BOSS_EXTRUDE21_TAPER)

    # Sketch36 → Cut-Extrude13 (cut)
    with BuildSketch(Plane(origin=(0, 0, -52.5), x_dir=(-1, 0, 0), z_dir=(0, 0, -1))):
        with Locations((-15.5, 12)):
            Circle(SKETCH36_R)
    extrude(amount=-CUT_EXTRUDE13_DEPTH, mode=Mode.SUBTRACT)

    # Sketch40 → Cut-Extrude14 (cut)
    with BuildSketch(Plane.ZY.offset(-21)):
        with Locations((-22.5, 20)):
            Circle(SKETCH40_R)
    extrude(amount=-CUT_EXTRUDE14_DEPTH, mode=Mode.SUBTRACT)

    # Sketch41 → Cut-Extrude15 (cut)
    with BuildSketch(Plane(origin=(51, 0, 0), x_dir=(0, 0, -1), z_dir=(1, 0, 0))):
        with Locations((42.5, 20)):
            Circle(SKETCH41_R)
    extrude(amount=-CUT_EXTRUDE15_DEPTH, mode=Mode.SUBTRACT)

    # Sketch9 → Boss-Extrude22 (add)
    with BuildSketch(Plane(origin=(0, 5, 0), x_dir=(1, 0, 0), z_dir=(0, 1, 0))):
        with BuildLine():
            Line((60, 59), (60, 57))
            ThreePointArc((60, 57), (66, 51), (72, 57))
            Line((72, 57), (72, 59))
            ThreePointArc((72, 59), (66, 65), (60, 59))
        make_face()
        with BuildLine():
            Line((63.5, 59), (63.5, 57))
            ThreePointArc((63.5, 57), (66, 54.5), (68.5, 57))
            Line((68.5, 57), (68.5, 59))
            ThreePointArc((68.5, 59), (66, 61.5), (63.5, 59))
        make_face(mode=Mode.SUBTRACT)
    boss_extrude22 = extrude(amount=BOSS_EXTRUDE22_DEPTH)

    # Sketch45 → Cut-Extrude17 (cut)
    with BuildSketch(Plane(origin=(0, 6, 0), x_dir=(1, 0, 0), z_dir=(0, 1, 0))):
        with BuildLine():
            Line((68.179449472, 52.5), (63.80757516, 52.506307385))
            ThreePointArc((63.80757516, 52.506307385), (65.992786414, 52.000005204), (68.179449472, 52.5))
        make_face()
    cut_extrude17 = extrude(amount=CUT_EXTRUDE17_DEPTH, mode=Mode.SUBTRACT)

    # Sketch47 → Cut-Extrude18 (cut)
    with BuildSketch(Plane(origin=(0, 5, 0), x_dir=(1, 0, 0), z_dir=(0, 1, 0))):
        with BuildLine():
            Line((68.5, 59), (68.5, 57))
            ThreePointArc((68.5, 57), (66, 54.5), (63.5, 57))
            Line((63.5, 57), (63.5, 59))
            ThreePointArc((63.5, 59), (66, 61.5), (68.5, 59))
        make_face()
    extrude(amount=-CUT_EXTRUDE18_DEPTH, mode=Mode.SUBTRACT)

    # Mirror12: Boss-Extrude22, Cut-Extrude17 across plane
    add(boss_extrude22.mirror(Plane(origin=(36, 0, 0), x_dir=(0, 0, 1), z_dir=(1, 0, 0))))
    add(cut_extrude17.mirror(Plane(origin=(36, 0, 0), x_dir=(0, 0, 1), z_dir=(1, 0, 0))), mode=Mode.SUBTRACT)


solid = part.part
